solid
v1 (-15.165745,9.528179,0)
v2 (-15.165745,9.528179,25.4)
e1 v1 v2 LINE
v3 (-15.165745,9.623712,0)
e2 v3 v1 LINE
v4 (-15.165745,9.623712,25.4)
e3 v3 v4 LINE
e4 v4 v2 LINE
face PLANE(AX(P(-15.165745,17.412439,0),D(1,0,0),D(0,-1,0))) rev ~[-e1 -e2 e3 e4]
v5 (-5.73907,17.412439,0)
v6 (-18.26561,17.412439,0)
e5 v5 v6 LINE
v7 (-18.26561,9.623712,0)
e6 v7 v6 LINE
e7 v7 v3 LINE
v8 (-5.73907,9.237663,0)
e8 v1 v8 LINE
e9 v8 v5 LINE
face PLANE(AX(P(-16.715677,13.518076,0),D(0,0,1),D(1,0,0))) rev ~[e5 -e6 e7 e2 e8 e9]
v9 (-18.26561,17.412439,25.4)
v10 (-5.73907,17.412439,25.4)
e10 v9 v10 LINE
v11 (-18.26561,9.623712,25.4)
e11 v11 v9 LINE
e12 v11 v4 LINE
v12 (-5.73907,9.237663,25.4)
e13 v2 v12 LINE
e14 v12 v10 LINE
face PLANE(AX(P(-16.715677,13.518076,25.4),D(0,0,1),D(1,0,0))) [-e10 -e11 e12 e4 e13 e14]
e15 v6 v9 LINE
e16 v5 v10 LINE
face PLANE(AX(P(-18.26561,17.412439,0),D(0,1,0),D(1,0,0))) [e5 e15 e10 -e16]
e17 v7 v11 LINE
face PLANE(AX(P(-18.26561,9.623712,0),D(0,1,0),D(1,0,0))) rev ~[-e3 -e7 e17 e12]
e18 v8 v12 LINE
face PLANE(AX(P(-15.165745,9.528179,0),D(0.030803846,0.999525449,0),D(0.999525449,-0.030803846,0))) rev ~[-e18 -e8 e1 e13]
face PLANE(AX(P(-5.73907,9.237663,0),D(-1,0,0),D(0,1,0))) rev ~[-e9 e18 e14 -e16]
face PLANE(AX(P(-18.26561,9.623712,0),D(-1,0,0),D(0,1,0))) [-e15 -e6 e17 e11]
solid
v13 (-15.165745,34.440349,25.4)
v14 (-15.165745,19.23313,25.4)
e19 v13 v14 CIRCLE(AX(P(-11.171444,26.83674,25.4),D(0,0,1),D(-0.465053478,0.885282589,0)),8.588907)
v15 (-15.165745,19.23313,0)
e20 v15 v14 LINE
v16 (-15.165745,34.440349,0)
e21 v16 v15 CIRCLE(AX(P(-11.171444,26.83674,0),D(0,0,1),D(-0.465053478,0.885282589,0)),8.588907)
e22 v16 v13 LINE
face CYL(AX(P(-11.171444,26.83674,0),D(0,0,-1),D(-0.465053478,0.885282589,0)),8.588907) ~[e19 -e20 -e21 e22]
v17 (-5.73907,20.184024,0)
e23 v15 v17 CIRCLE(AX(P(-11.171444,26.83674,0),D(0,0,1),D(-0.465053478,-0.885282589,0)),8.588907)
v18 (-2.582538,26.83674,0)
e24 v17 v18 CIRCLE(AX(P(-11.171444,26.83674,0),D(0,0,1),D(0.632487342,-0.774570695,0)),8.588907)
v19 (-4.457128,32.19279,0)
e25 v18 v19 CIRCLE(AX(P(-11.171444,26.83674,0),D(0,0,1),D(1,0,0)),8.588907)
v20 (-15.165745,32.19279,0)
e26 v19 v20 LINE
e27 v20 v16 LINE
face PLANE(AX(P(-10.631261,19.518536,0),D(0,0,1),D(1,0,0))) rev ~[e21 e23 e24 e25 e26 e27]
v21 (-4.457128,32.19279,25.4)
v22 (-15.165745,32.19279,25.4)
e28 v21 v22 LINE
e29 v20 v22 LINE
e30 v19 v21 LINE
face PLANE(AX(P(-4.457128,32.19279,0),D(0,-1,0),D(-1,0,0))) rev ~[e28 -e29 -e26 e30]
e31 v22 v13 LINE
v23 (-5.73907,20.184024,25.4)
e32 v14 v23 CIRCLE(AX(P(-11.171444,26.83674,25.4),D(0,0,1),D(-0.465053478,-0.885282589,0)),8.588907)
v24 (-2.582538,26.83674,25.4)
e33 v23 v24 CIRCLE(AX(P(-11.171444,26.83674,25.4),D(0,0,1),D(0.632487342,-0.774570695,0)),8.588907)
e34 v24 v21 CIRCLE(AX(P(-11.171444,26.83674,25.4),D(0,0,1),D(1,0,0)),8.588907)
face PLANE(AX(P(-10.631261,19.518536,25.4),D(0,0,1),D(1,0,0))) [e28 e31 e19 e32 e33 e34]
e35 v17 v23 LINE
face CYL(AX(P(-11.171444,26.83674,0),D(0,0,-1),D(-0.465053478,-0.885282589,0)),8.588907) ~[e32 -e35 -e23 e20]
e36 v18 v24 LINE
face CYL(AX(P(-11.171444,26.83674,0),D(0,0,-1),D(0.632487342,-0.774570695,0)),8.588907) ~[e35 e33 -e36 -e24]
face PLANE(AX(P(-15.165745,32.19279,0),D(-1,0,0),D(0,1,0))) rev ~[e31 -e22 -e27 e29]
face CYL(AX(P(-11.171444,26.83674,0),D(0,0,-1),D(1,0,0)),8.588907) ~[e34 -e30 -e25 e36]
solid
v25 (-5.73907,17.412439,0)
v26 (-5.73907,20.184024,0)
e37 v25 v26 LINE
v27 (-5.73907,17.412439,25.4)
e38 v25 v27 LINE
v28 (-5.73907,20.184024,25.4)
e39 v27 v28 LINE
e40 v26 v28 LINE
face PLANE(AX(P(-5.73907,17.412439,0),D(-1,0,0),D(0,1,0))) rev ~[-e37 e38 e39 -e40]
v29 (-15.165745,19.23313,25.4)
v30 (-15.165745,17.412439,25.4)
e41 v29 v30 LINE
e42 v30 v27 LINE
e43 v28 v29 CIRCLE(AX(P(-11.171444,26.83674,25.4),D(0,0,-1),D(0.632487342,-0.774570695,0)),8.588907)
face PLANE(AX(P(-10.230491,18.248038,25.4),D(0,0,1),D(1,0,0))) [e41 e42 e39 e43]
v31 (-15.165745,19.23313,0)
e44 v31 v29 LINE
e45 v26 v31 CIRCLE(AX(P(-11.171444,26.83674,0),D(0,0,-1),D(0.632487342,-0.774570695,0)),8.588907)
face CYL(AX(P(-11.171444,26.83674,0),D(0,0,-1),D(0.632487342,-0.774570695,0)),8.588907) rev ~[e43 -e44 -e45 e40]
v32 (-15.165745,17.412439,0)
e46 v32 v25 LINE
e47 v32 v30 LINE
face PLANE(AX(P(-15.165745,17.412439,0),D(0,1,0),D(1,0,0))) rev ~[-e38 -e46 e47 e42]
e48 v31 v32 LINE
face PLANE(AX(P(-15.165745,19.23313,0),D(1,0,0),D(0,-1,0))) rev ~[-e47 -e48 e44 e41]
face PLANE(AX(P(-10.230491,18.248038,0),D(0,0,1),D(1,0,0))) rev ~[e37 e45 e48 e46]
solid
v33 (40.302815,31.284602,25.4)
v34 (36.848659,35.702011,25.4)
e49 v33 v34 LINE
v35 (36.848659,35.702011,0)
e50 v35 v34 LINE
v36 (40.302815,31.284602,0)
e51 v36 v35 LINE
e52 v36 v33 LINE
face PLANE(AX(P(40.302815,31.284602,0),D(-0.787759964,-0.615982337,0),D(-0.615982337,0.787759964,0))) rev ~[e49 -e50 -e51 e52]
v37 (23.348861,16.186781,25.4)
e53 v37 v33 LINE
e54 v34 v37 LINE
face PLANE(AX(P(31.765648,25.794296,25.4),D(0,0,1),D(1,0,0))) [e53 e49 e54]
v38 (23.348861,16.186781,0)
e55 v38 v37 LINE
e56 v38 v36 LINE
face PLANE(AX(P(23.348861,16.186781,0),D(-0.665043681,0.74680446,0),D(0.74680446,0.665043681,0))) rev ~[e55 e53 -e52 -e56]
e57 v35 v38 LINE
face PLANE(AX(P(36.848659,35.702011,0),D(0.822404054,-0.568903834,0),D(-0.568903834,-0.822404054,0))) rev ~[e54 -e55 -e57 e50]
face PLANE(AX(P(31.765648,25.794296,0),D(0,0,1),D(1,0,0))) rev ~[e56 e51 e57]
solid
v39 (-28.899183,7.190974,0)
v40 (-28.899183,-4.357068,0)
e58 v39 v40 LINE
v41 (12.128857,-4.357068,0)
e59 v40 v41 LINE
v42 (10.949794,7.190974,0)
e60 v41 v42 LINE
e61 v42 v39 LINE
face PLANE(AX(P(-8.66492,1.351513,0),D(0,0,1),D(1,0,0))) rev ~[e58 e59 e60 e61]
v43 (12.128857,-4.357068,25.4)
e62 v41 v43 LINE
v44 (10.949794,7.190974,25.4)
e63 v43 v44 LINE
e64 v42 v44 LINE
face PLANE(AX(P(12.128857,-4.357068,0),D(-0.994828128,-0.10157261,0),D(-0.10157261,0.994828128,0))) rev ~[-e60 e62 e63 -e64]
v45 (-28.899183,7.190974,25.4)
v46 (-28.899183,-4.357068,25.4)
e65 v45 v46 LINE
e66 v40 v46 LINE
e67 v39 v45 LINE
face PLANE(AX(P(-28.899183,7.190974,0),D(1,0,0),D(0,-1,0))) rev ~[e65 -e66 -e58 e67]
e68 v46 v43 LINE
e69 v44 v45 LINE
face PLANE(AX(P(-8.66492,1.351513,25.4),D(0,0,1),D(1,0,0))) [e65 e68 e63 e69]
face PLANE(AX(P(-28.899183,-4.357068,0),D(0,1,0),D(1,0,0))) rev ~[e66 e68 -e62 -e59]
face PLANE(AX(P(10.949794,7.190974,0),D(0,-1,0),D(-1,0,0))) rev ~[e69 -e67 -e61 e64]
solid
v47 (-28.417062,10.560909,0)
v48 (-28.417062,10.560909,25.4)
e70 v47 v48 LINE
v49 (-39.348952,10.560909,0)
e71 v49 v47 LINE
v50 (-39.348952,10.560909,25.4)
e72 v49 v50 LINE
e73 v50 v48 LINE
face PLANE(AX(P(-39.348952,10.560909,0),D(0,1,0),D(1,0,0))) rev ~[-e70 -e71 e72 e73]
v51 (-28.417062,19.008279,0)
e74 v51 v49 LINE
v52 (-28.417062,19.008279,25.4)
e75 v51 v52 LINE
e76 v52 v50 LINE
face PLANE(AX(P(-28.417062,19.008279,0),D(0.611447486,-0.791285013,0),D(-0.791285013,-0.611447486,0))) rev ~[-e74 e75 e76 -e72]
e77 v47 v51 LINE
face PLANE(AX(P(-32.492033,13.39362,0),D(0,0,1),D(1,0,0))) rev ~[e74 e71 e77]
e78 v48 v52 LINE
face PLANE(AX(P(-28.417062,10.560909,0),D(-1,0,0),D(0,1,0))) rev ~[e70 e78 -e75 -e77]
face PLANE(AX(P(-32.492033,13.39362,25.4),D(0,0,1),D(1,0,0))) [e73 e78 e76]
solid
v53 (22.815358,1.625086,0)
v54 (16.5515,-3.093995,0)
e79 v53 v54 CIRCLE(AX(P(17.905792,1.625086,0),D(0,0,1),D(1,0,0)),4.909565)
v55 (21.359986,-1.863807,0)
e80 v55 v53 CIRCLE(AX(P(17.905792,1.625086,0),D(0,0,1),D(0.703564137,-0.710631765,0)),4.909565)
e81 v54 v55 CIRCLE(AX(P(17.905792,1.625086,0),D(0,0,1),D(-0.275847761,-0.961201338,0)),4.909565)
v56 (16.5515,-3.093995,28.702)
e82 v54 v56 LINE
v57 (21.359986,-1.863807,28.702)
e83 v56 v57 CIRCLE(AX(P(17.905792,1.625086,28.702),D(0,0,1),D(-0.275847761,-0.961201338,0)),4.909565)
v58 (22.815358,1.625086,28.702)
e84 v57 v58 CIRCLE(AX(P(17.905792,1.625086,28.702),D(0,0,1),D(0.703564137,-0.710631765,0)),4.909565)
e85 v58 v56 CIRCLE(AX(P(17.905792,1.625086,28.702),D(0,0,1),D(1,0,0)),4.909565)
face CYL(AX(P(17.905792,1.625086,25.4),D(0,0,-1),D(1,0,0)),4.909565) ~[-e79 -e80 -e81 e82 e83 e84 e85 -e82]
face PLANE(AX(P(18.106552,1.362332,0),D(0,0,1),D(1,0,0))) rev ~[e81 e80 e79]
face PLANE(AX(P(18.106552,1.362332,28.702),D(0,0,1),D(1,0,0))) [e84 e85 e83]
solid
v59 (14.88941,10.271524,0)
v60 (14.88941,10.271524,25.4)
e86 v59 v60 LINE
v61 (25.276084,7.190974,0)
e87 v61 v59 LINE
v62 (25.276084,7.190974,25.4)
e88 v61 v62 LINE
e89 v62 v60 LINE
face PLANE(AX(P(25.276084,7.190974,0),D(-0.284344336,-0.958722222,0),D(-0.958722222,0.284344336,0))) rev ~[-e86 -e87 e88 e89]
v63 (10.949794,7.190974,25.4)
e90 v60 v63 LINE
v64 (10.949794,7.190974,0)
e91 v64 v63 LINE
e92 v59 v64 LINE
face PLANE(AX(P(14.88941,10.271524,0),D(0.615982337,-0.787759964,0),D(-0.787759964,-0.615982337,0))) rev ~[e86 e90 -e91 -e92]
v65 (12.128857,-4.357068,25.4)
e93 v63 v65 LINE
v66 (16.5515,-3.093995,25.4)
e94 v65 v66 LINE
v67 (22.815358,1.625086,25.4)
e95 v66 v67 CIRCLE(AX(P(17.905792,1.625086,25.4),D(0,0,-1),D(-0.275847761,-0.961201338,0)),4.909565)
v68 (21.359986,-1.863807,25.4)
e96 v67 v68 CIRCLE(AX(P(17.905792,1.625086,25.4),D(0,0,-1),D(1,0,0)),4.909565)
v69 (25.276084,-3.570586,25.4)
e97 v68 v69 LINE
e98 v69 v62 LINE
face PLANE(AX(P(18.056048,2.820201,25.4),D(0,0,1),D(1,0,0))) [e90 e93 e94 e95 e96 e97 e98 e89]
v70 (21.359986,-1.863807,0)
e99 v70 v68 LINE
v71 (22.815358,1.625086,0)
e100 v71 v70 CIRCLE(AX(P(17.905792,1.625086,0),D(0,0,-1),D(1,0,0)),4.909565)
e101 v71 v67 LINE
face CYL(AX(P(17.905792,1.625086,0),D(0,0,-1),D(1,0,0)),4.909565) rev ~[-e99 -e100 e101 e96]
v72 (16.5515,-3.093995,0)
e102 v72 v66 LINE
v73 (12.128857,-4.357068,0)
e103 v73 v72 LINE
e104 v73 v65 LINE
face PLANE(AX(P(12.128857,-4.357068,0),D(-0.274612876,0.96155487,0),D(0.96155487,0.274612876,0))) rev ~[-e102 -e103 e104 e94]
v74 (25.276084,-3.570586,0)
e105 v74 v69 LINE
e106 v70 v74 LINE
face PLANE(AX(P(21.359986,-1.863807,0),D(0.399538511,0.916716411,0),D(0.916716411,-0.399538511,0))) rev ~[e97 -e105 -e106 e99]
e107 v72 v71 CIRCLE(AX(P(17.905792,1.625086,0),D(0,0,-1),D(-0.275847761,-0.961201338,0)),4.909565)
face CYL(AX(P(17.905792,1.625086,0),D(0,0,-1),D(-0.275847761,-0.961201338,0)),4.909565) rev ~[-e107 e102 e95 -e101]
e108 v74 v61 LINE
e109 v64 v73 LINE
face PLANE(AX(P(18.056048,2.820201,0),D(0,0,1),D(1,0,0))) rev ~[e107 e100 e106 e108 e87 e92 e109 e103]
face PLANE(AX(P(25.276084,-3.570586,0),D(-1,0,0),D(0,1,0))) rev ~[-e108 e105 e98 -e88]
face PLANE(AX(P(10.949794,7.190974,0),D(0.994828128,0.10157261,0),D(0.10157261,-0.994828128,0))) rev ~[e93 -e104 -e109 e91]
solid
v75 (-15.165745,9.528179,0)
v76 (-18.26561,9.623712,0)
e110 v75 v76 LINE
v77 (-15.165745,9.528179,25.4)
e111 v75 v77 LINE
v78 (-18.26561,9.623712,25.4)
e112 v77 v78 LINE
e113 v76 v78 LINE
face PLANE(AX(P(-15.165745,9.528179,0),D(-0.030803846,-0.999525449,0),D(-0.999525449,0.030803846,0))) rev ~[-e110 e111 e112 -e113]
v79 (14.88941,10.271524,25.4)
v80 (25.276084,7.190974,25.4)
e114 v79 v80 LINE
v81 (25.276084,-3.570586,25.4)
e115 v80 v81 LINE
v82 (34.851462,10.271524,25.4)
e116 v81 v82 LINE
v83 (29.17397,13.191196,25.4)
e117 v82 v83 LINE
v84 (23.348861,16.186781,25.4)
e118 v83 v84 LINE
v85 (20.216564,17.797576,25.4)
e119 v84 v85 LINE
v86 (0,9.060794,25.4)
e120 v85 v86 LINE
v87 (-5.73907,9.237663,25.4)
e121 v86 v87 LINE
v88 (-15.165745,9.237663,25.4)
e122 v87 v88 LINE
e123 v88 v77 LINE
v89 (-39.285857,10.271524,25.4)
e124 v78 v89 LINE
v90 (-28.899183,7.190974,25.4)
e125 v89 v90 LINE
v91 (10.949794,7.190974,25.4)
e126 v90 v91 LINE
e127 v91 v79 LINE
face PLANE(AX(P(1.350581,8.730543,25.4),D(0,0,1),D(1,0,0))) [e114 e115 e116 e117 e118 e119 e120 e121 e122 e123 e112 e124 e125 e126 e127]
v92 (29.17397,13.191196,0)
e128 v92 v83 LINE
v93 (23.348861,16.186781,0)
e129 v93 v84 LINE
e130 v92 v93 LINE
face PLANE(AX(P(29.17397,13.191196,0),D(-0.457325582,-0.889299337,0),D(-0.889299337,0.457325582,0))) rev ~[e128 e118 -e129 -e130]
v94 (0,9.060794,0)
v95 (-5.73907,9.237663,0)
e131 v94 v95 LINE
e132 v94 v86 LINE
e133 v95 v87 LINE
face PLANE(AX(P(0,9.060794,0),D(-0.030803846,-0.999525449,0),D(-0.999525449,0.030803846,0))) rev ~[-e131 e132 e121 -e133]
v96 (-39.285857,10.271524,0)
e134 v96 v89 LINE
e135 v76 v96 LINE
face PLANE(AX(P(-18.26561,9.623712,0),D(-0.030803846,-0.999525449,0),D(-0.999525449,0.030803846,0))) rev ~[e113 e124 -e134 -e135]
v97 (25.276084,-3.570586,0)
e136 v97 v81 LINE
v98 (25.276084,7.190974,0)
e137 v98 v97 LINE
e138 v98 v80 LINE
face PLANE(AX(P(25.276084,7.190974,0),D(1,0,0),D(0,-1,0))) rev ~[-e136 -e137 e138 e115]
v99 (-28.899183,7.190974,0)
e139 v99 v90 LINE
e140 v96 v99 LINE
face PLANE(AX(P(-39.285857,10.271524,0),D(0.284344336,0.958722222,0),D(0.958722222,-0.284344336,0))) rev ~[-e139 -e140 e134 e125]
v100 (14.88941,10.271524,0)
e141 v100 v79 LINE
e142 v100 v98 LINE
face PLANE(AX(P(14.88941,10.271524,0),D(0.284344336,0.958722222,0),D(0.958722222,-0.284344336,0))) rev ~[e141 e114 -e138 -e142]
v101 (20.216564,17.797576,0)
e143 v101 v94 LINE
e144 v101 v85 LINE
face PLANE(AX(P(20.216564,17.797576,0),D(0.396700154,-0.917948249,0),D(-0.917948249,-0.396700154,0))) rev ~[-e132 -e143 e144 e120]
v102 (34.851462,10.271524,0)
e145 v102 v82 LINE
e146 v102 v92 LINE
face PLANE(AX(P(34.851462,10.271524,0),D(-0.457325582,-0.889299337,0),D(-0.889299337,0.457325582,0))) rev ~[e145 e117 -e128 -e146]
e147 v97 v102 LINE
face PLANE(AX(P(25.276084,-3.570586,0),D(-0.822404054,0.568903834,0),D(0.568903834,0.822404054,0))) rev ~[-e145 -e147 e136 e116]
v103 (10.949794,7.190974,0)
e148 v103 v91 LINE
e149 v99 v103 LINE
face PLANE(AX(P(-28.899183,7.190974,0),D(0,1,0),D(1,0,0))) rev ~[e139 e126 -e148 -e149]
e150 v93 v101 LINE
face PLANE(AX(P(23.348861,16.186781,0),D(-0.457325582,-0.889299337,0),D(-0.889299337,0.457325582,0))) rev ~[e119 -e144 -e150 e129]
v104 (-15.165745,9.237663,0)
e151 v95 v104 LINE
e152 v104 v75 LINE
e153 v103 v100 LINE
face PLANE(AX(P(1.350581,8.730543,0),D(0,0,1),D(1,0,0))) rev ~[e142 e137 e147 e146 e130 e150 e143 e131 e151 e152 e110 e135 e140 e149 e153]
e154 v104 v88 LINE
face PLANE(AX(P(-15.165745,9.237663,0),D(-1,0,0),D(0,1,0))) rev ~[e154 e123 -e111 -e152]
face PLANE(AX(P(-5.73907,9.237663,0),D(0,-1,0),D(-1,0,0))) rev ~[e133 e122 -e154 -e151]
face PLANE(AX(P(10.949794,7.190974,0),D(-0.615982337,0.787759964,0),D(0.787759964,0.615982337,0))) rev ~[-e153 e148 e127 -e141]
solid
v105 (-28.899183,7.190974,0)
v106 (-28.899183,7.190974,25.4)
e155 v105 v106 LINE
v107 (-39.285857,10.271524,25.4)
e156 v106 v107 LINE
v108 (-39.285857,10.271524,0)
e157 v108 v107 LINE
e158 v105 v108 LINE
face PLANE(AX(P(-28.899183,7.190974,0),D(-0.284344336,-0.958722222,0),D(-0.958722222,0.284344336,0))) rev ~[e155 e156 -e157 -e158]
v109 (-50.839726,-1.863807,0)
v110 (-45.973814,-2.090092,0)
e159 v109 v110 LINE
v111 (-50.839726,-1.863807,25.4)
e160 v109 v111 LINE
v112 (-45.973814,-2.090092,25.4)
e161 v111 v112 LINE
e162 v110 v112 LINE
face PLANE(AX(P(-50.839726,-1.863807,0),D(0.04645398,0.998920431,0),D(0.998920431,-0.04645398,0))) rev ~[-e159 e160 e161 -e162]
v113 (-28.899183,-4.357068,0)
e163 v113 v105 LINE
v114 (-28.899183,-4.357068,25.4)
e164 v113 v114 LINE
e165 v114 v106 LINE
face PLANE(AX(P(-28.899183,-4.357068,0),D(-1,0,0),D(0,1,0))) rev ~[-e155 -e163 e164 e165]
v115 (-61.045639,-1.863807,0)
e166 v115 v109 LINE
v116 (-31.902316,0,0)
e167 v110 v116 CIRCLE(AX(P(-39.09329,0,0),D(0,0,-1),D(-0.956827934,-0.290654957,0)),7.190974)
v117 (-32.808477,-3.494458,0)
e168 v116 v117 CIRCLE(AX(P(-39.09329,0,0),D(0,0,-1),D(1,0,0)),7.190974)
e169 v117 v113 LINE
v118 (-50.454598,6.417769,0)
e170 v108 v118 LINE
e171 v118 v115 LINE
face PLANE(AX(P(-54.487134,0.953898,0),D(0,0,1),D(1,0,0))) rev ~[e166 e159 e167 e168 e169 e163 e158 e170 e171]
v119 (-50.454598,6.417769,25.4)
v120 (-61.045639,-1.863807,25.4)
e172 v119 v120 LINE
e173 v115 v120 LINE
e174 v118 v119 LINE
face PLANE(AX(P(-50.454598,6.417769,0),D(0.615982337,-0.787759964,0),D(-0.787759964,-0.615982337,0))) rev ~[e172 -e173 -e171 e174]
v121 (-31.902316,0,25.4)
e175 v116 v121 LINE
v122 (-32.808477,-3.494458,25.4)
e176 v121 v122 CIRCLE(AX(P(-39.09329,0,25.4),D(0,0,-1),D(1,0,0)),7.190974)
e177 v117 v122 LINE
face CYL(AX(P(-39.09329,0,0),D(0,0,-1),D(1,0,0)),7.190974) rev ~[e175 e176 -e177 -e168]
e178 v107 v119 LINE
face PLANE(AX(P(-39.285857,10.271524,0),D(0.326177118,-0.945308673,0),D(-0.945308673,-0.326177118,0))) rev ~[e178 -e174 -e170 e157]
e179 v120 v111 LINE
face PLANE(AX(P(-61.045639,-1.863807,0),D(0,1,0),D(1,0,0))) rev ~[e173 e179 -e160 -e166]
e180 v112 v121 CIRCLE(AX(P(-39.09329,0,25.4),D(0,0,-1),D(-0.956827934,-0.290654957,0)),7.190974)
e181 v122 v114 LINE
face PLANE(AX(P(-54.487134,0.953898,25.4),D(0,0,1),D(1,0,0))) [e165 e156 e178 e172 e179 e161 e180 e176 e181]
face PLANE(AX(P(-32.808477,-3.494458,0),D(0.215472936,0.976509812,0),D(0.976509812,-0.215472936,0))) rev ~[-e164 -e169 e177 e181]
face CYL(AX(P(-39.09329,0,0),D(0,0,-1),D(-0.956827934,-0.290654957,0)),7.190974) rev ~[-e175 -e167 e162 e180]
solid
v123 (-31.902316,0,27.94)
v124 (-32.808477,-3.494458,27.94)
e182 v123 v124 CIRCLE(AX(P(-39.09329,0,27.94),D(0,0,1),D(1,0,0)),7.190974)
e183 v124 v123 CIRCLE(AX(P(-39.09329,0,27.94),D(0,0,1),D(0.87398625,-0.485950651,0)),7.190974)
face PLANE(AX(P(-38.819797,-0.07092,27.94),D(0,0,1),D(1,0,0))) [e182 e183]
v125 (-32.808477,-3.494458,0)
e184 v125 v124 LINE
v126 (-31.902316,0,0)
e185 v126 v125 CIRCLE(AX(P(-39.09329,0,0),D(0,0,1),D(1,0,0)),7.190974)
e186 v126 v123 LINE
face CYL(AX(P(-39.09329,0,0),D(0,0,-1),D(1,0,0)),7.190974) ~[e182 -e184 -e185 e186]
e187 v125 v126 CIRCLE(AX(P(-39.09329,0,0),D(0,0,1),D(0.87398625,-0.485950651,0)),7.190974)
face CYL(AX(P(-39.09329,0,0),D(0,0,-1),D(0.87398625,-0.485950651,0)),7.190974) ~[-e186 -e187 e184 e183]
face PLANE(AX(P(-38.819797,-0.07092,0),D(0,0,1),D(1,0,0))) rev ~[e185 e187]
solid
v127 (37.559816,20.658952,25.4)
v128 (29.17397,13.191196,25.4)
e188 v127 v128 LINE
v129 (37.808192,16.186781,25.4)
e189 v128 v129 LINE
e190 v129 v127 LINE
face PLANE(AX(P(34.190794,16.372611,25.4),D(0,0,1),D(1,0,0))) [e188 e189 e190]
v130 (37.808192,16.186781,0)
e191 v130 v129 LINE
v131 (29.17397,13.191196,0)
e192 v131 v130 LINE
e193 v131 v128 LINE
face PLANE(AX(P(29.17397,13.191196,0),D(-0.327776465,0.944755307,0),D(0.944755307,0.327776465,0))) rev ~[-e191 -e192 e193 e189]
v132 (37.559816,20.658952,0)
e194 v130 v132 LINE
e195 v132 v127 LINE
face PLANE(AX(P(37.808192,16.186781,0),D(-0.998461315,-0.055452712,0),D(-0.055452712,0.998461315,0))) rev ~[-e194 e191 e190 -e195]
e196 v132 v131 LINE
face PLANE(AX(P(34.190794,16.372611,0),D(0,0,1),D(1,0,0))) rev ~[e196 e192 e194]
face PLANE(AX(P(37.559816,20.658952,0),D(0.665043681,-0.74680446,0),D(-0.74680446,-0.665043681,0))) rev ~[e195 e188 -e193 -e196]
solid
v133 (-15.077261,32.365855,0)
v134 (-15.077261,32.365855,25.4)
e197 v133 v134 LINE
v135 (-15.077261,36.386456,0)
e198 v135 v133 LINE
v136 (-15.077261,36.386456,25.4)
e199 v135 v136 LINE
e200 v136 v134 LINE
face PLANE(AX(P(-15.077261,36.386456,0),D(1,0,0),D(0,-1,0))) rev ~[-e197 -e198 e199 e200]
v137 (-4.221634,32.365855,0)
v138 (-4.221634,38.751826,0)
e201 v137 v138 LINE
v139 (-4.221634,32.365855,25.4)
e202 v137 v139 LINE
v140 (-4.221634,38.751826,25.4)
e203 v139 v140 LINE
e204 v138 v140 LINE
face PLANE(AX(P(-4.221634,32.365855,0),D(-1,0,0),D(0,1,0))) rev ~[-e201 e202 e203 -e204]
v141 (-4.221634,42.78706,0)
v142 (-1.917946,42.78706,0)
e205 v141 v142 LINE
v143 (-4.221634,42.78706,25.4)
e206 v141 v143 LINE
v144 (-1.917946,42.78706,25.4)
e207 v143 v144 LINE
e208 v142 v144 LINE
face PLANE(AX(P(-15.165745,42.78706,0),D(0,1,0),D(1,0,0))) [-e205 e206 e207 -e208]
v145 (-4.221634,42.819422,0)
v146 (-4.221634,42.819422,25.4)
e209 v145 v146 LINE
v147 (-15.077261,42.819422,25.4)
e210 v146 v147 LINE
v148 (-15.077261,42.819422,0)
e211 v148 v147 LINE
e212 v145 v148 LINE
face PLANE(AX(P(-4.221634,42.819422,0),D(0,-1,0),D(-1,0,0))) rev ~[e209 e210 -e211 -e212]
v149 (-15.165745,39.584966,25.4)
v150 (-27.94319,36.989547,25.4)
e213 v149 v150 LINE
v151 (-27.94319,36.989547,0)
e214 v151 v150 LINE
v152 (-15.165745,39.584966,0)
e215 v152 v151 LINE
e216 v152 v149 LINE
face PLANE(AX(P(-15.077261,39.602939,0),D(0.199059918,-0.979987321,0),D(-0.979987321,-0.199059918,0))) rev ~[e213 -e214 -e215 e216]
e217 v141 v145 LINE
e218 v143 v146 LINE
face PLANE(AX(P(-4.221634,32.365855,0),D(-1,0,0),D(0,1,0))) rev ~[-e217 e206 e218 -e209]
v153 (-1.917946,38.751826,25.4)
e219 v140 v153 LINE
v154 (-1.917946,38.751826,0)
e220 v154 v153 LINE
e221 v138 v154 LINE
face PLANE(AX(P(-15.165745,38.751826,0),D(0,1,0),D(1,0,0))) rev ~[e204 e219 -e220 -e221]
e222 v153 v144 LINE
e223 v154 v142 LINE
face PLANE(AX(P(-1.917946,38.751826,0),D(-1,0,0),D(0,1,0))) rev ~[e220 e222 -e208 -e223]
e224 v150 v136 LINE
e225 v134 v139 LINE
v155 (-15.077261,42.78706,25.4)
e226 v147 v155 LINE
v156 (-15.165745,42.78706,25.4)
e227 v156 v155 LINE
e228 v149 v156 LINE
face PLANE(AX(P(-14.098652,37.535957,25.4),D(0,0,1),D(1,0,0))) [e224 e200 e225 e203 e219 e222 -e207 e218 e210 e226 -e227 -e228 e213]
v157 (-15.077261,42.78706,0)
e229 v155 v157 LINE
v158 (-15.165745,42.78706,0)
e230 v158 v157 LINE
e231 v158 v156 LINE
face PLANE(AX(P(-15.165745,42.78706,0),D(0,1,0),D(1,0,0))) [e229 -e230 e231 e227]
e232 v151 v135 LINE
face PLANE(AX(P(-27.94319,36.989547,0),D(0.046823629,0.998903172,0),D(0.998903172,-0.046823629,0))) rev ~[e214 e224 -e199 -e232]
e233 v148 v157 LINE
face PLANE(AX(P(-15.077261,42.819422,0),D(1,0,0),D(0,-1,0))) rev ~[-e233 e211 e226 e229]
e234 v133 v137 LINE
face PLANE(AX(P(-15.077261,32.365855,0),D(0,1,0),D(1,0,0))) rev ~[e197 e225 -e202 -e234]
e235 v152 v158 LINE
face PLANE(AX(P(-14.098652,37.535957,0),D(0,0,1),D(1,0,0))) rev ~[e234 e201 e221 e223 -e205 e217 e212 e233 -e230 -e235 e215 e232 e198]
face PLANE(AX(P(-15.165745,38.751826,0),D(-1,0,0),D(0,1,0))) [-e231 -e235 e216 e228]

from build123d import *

# Parameters (mm, degrees)
F1_DEPTH  = 25.4
F2_DEPTH  = 27.94
F3_DEPTH  = 25.4
F4_DEPTH  = 25.4
F5_DEPTH  = 25.4
F6_DEPTH  = 25.4
F0_W      = 3.0998642863
F0_H      = 7.7887267968
F7_DEPTH  = 25.4
F8_DEPTH  = 25.4
F9_DEPTH  = 25.4
F11_DEPTH = 25.4
F0_W_2    = 13.2477991283
F0_H_2    = 4.0352344513
F13_DEPTH = 25.4
F14_DEPTH = 25.4
F15_DEPTH = 25.4
F16_DEPTH = 25.4
F17_DEPTH = 25.4
F19_DEPTH = 25.4
F20_DEPTH = 25.4
F21_DEPTH = 3.302


with BuildPart() as f1:
    # F0 (on Top) → F1 (new body)
    with BuildSketch(Plane.XY):
        Polygon((10.949794203, 7.1909739636), (-28.8991834968, 7.1909739636), (-28.8991834968, -4.3570683338), (12.1288569644, -4.3570683338), align=None)
    extrude(amount=F1_DEPTH)


with BuildPart() as f2:
    # F0 (on Top) → F2 (new body)
    with BuildSketch(Plane.XY):
        with BuildLine():
            ThreePointArc((-45.9738142885, -2.0900922262), (-39.8560342132, -7.1504074768), (-32.8084771592, -3.4944584816))
            ThreePointArc((-32.8084771592, -3.4944584816), (-32.1325414098, -1.8050186233), (-31.9023155607, 0))
            ThreePointArc((-31.9023155607, 0), (-40.1498007901, 7.1129382459), (-45.9738142885, -2.0900922262))
        make_face()
    extrude(amount=F2_DEPTH)


with BuildPart() as f3:
    # F0 (on Top) → F3 (new body)
    with BuildSketch(Plane.XY):
        with BuildLine():
            Line((-28.8991834968, -4.3570683338), (-28.8991834968, 7.1909739636))
            Line((-28.8991834968, 7.1909739636), (-39.2858572304, 10.2715240791))
            Line((-39.2858572304, 10.2715240791), (-50.4545979202, 6.417769473))
            Line((-50.4545979202, 6.417769473), (-50.8397258818, -1.8638069741))
            Line((-50.8397258818, -1.8638069741), (-45.9738142885, -2.0900922262))
            ThreePointArc((-45.9738142885, -2.0900922262), (-40.1498007901, 7.1129382459), (-31.9023155607, 0))
            ThreePointArc((-31.9023155607, 0), (-32.1325414098, -1.8050186233), (-32.8084771592, -3.4944584816))
            Line((-32.8084771592, -3.4944584816), (-28.8991834968, -4.3570683338))
        make_face()
    extrude(amount=F3_DEPTH)

    # F0 (on Top) → F4 (join)
    with BuildSketch(Plane.XY):
        Polygon((-50.8397258818, -1.8638069741), (-50.4545979202, 6.417769473), (-61.0456392169, -1.8638069741), align=None)
    extrude(amount=F4_DEPTH)


with BuildPart() as f5:
    # F0 (on Top) → F5 (new body)
    with BuildSketch(Plane.XY):
        Polygon((-39.2858572304, 10.2715240791), (-28.8991834968, 7.1909739636), (10.949794203, 7.1909739636), (14.8894104945, 10.2715240791), (25.2760842281, 7.1909739636), (25.2760842281, -3.5705855116), (34.8514616489, 10.2715240791), (29.173970462, 13.1911956168), (23.3488607793, 16.1867805299), (20.2165637165, 17.7975762635), (0, 9.0607940381), (-5.7390695111, 9.2376633838), (-15.1657452807, 9.2376633838), (-15.1657452807, 9.5281791151), (-18.265609567, 9.6237121919), align=None)
    extrude(amount=F5_DEPTH)



with BuildPart() as f6:
    # F0 (on Top) → F6 (new body)
    with BuildSketch(Plane.XY):
        Polygon((-15.1657452807, 9.6237121919), (-15.1657452807, 9.5281791151), (-5.7390695111, 9.2376633838), (-5.7390695111, 17.4124389887), (-15.1657452807, 17.4124389887), align=None)
    extrude(amount=F6_DEPTH)


with BuildPart() as f5_1:
    add(f5.part)

    add(f6.part)  # F7 merges F6
    # F0 (on Top) → F7 (join)
    with BuildSketch(Plane.XY):
        with Locations((-16.7156774238, 13.5180755903)):
            Rectangle(F0_W, F0_H)
    extrude(amount=F7_DEPTH)


with BuildPart() as f8:
    # F0 (on Top) → F8 (new body)
    with BuildSketch(Plane.XY):
        with BuildLine():
            ThreePointArc((-15.1657452807, 34.4403494642), (-19.7603510768, 26.836739853), (-15.1657452807, 19.2331302418))
            Line((-15.1657452807, 19.2331302418), (-15.1657452807, 20.1840243747))
            Line((-15.1657452807, 20.1840243747), (-5.7390695111, 20.1840243747))
            ThreePointArc((-5.7390695111, 20.1840243747), (-3.4116930349, 23.1549496233), (-2.5825375616, 26.836739853))
            ThreePointArc((-2.5825375616, 26.836739853), (-3.064720049, 29.6740521196), (-4.4571279199, 32.192790131))
            Line((-4.4571279199, 32.192790131), (-15.1657452807, 32.192790131))
            Line((-15.1657452807, 32.192790131), (-15.1657452807, 34.4403494642))
        make_face()
    extrude(amount=F8_DEPTH)

    # F0 (on Top) → F19 (join)
    with BuildSketch(Plane.XY):
        with BuildLine():
            Line((-15.1657452807, 20.1840243747), (-15.1657452807, 19.2331302418))
            ThreePointArc((-15.1657452807, 19.2331302418), (-10.3094327125, 18.2911997718), (-5.7390695111, 20.1840243747))
            Line((-5.7390695111, 20.1840243747), (-15.1657452807, 20.1840243747))
        make_face()
    extrude(amount=F19_DEPTH)


with BuildPart() as f9:
    # F0 (on Top) → F9 (new body)
    with BuildSketch(Plane.XY):
        with BuildLine():
            ThreePointArc((22.8153576644, 1.6250861809), (14.9515711294, 5.5463628324), (16.551499587, -3.0939946935))
            ThreePointArc((16.551499587, -3.0939946935), (19.1226476258, -3.1312880436), (21.3599863954, -1.8638069741))
            ThreePointArc((21.3599863954, -1.8638069741), (22.4369303339, -0.2650514449), (22.8153576644, 1.6250861809))
        make_face()
    extrude(amount=F9_DEPTH)

    # F21 (add): a face of the model
    f21_faces = [f9.faces().sort_by_distance(p)[0] for p in [
        (17.9057922214, 1.6250861809, 25.4),
    ]]
    extrude(f21_faces, amount=F21_DEPTH)


with BuildPart() as f11:
    # F10 (on face) → F11 (new body)
    with BuildSketch(Plane.XY):
        Polygon((-28.4170620143, 10.5609092861), (-28.4170620143, 19.0082788467), (-39.3489524722, 10.5609092861), align=None)
    extrude(amount=F11_DEPTH)


with BuildPart() as f13:
    # F0 (on Top) → F13 (new body)
    with BuildSketch(Plane.XY):
        with Locations((-8.5418457165, 40.7694429159)):
            Rectangle(F0_W_2, F0_H_2)
    extrude(amount=F13_DEPTH)

    # F12 (on Top) → F14 (join)
    with BuildSketch(Plane.XY):
        Polygon((-27.9431901872, 36.9895473123), (-15.0772612542, 36.3864563406), (-15.0772612542, 32.3658548295), (-4.2216335423, 32.3658548295), (-4.2216335423, 42.8194217384), (-15.0772612542, 42.8194217384), (-15.0772612542, 39.6029390395), align=None)
    extrude(amount=F14_DEPTH)


with BuildPart() as f15:
    # F0 (on Top) → F15 (new body)
    with BuildSketch(Plane.XY):
        with BuildLine():
            Line((14.8894104945, 10.2715240791), (10.949794203, 7.1909739636))
            Line((10.949794203, 7.1909739636), (12.1288569644, -4.3570683338))
            Line((12.1288569644, -4.3570683338), (16.551499587, -3.0939946935))
            ThreePointArc((16.551499587, -3.0939946935), (14.9515711294, 5.5463628324), (22.8153576644, 1.6250861809))
            ThreePointArc((22.8153576644, 1.6250861809), (22.4369303339, -0.2650514449), (21.3599863954, -1.8638069741))
            Line((21.3599863954, -1.8638069741), (25.2760842281, -3.5705855116))
            Line((25.2760842281, -3.5705855116), (25.2760842281, 7.1909739636))
            Line((25.2760842281, 7.1909739636), (14.8894104945, 10.2715240791))
        make_face()
    extrude(amount=F15_DEPTH)


with BuildPart() as f16:
    # F0 (on Top) → F16 (new body)
    with BuildSketch(Plane.XY):
        Polygon((36.8486594463, 35.7020105192), (23.3488607793, 16.1867805299), (40.302815299, 31.2846018876), align=None)
    extrude(amount=F16_DEPTH)


with BuildPart() as f17:
    # F0 (on Top) → F17 (new body)
    with BuildSketch(Plane.XY):
        Polygon((37.5598161976, 20.6589519271), (29.173970462, 13.1911956168), (37.8081924042, 16.1867805299), align=None)
    extrude(amount=F17_DEPTH)


with BuildPart() as f20:
    # F18 (on face) → F20 (new body)
    with BuildSketch(Plane.XY):
        with BuildLine():
            ThreePointArc((-5.7390695111, 20.1840243747), (-10.3094327125, 18.2911997718), (-15.1657452807, 19.2331302418))
            Line((-15.1657452807, 19.2331302418), (-15.1657452807, 17.4124389887))
            Line((-15.1657452807, 17.4124389887), (-5.7390695111, 17.4124389887))
            Line((-5.7390695111, 17.4124389887), (-5.7390695111, 20.1840243747))
        make_face()
    extrude(amount=F20_DEPTH)


solid = Compound([f1.part, f2.part, f3.part, f5_1.part, f8.part, f9.part, f11.part, f13.part, f15.part, f16.part, f17.part, f20.part])
